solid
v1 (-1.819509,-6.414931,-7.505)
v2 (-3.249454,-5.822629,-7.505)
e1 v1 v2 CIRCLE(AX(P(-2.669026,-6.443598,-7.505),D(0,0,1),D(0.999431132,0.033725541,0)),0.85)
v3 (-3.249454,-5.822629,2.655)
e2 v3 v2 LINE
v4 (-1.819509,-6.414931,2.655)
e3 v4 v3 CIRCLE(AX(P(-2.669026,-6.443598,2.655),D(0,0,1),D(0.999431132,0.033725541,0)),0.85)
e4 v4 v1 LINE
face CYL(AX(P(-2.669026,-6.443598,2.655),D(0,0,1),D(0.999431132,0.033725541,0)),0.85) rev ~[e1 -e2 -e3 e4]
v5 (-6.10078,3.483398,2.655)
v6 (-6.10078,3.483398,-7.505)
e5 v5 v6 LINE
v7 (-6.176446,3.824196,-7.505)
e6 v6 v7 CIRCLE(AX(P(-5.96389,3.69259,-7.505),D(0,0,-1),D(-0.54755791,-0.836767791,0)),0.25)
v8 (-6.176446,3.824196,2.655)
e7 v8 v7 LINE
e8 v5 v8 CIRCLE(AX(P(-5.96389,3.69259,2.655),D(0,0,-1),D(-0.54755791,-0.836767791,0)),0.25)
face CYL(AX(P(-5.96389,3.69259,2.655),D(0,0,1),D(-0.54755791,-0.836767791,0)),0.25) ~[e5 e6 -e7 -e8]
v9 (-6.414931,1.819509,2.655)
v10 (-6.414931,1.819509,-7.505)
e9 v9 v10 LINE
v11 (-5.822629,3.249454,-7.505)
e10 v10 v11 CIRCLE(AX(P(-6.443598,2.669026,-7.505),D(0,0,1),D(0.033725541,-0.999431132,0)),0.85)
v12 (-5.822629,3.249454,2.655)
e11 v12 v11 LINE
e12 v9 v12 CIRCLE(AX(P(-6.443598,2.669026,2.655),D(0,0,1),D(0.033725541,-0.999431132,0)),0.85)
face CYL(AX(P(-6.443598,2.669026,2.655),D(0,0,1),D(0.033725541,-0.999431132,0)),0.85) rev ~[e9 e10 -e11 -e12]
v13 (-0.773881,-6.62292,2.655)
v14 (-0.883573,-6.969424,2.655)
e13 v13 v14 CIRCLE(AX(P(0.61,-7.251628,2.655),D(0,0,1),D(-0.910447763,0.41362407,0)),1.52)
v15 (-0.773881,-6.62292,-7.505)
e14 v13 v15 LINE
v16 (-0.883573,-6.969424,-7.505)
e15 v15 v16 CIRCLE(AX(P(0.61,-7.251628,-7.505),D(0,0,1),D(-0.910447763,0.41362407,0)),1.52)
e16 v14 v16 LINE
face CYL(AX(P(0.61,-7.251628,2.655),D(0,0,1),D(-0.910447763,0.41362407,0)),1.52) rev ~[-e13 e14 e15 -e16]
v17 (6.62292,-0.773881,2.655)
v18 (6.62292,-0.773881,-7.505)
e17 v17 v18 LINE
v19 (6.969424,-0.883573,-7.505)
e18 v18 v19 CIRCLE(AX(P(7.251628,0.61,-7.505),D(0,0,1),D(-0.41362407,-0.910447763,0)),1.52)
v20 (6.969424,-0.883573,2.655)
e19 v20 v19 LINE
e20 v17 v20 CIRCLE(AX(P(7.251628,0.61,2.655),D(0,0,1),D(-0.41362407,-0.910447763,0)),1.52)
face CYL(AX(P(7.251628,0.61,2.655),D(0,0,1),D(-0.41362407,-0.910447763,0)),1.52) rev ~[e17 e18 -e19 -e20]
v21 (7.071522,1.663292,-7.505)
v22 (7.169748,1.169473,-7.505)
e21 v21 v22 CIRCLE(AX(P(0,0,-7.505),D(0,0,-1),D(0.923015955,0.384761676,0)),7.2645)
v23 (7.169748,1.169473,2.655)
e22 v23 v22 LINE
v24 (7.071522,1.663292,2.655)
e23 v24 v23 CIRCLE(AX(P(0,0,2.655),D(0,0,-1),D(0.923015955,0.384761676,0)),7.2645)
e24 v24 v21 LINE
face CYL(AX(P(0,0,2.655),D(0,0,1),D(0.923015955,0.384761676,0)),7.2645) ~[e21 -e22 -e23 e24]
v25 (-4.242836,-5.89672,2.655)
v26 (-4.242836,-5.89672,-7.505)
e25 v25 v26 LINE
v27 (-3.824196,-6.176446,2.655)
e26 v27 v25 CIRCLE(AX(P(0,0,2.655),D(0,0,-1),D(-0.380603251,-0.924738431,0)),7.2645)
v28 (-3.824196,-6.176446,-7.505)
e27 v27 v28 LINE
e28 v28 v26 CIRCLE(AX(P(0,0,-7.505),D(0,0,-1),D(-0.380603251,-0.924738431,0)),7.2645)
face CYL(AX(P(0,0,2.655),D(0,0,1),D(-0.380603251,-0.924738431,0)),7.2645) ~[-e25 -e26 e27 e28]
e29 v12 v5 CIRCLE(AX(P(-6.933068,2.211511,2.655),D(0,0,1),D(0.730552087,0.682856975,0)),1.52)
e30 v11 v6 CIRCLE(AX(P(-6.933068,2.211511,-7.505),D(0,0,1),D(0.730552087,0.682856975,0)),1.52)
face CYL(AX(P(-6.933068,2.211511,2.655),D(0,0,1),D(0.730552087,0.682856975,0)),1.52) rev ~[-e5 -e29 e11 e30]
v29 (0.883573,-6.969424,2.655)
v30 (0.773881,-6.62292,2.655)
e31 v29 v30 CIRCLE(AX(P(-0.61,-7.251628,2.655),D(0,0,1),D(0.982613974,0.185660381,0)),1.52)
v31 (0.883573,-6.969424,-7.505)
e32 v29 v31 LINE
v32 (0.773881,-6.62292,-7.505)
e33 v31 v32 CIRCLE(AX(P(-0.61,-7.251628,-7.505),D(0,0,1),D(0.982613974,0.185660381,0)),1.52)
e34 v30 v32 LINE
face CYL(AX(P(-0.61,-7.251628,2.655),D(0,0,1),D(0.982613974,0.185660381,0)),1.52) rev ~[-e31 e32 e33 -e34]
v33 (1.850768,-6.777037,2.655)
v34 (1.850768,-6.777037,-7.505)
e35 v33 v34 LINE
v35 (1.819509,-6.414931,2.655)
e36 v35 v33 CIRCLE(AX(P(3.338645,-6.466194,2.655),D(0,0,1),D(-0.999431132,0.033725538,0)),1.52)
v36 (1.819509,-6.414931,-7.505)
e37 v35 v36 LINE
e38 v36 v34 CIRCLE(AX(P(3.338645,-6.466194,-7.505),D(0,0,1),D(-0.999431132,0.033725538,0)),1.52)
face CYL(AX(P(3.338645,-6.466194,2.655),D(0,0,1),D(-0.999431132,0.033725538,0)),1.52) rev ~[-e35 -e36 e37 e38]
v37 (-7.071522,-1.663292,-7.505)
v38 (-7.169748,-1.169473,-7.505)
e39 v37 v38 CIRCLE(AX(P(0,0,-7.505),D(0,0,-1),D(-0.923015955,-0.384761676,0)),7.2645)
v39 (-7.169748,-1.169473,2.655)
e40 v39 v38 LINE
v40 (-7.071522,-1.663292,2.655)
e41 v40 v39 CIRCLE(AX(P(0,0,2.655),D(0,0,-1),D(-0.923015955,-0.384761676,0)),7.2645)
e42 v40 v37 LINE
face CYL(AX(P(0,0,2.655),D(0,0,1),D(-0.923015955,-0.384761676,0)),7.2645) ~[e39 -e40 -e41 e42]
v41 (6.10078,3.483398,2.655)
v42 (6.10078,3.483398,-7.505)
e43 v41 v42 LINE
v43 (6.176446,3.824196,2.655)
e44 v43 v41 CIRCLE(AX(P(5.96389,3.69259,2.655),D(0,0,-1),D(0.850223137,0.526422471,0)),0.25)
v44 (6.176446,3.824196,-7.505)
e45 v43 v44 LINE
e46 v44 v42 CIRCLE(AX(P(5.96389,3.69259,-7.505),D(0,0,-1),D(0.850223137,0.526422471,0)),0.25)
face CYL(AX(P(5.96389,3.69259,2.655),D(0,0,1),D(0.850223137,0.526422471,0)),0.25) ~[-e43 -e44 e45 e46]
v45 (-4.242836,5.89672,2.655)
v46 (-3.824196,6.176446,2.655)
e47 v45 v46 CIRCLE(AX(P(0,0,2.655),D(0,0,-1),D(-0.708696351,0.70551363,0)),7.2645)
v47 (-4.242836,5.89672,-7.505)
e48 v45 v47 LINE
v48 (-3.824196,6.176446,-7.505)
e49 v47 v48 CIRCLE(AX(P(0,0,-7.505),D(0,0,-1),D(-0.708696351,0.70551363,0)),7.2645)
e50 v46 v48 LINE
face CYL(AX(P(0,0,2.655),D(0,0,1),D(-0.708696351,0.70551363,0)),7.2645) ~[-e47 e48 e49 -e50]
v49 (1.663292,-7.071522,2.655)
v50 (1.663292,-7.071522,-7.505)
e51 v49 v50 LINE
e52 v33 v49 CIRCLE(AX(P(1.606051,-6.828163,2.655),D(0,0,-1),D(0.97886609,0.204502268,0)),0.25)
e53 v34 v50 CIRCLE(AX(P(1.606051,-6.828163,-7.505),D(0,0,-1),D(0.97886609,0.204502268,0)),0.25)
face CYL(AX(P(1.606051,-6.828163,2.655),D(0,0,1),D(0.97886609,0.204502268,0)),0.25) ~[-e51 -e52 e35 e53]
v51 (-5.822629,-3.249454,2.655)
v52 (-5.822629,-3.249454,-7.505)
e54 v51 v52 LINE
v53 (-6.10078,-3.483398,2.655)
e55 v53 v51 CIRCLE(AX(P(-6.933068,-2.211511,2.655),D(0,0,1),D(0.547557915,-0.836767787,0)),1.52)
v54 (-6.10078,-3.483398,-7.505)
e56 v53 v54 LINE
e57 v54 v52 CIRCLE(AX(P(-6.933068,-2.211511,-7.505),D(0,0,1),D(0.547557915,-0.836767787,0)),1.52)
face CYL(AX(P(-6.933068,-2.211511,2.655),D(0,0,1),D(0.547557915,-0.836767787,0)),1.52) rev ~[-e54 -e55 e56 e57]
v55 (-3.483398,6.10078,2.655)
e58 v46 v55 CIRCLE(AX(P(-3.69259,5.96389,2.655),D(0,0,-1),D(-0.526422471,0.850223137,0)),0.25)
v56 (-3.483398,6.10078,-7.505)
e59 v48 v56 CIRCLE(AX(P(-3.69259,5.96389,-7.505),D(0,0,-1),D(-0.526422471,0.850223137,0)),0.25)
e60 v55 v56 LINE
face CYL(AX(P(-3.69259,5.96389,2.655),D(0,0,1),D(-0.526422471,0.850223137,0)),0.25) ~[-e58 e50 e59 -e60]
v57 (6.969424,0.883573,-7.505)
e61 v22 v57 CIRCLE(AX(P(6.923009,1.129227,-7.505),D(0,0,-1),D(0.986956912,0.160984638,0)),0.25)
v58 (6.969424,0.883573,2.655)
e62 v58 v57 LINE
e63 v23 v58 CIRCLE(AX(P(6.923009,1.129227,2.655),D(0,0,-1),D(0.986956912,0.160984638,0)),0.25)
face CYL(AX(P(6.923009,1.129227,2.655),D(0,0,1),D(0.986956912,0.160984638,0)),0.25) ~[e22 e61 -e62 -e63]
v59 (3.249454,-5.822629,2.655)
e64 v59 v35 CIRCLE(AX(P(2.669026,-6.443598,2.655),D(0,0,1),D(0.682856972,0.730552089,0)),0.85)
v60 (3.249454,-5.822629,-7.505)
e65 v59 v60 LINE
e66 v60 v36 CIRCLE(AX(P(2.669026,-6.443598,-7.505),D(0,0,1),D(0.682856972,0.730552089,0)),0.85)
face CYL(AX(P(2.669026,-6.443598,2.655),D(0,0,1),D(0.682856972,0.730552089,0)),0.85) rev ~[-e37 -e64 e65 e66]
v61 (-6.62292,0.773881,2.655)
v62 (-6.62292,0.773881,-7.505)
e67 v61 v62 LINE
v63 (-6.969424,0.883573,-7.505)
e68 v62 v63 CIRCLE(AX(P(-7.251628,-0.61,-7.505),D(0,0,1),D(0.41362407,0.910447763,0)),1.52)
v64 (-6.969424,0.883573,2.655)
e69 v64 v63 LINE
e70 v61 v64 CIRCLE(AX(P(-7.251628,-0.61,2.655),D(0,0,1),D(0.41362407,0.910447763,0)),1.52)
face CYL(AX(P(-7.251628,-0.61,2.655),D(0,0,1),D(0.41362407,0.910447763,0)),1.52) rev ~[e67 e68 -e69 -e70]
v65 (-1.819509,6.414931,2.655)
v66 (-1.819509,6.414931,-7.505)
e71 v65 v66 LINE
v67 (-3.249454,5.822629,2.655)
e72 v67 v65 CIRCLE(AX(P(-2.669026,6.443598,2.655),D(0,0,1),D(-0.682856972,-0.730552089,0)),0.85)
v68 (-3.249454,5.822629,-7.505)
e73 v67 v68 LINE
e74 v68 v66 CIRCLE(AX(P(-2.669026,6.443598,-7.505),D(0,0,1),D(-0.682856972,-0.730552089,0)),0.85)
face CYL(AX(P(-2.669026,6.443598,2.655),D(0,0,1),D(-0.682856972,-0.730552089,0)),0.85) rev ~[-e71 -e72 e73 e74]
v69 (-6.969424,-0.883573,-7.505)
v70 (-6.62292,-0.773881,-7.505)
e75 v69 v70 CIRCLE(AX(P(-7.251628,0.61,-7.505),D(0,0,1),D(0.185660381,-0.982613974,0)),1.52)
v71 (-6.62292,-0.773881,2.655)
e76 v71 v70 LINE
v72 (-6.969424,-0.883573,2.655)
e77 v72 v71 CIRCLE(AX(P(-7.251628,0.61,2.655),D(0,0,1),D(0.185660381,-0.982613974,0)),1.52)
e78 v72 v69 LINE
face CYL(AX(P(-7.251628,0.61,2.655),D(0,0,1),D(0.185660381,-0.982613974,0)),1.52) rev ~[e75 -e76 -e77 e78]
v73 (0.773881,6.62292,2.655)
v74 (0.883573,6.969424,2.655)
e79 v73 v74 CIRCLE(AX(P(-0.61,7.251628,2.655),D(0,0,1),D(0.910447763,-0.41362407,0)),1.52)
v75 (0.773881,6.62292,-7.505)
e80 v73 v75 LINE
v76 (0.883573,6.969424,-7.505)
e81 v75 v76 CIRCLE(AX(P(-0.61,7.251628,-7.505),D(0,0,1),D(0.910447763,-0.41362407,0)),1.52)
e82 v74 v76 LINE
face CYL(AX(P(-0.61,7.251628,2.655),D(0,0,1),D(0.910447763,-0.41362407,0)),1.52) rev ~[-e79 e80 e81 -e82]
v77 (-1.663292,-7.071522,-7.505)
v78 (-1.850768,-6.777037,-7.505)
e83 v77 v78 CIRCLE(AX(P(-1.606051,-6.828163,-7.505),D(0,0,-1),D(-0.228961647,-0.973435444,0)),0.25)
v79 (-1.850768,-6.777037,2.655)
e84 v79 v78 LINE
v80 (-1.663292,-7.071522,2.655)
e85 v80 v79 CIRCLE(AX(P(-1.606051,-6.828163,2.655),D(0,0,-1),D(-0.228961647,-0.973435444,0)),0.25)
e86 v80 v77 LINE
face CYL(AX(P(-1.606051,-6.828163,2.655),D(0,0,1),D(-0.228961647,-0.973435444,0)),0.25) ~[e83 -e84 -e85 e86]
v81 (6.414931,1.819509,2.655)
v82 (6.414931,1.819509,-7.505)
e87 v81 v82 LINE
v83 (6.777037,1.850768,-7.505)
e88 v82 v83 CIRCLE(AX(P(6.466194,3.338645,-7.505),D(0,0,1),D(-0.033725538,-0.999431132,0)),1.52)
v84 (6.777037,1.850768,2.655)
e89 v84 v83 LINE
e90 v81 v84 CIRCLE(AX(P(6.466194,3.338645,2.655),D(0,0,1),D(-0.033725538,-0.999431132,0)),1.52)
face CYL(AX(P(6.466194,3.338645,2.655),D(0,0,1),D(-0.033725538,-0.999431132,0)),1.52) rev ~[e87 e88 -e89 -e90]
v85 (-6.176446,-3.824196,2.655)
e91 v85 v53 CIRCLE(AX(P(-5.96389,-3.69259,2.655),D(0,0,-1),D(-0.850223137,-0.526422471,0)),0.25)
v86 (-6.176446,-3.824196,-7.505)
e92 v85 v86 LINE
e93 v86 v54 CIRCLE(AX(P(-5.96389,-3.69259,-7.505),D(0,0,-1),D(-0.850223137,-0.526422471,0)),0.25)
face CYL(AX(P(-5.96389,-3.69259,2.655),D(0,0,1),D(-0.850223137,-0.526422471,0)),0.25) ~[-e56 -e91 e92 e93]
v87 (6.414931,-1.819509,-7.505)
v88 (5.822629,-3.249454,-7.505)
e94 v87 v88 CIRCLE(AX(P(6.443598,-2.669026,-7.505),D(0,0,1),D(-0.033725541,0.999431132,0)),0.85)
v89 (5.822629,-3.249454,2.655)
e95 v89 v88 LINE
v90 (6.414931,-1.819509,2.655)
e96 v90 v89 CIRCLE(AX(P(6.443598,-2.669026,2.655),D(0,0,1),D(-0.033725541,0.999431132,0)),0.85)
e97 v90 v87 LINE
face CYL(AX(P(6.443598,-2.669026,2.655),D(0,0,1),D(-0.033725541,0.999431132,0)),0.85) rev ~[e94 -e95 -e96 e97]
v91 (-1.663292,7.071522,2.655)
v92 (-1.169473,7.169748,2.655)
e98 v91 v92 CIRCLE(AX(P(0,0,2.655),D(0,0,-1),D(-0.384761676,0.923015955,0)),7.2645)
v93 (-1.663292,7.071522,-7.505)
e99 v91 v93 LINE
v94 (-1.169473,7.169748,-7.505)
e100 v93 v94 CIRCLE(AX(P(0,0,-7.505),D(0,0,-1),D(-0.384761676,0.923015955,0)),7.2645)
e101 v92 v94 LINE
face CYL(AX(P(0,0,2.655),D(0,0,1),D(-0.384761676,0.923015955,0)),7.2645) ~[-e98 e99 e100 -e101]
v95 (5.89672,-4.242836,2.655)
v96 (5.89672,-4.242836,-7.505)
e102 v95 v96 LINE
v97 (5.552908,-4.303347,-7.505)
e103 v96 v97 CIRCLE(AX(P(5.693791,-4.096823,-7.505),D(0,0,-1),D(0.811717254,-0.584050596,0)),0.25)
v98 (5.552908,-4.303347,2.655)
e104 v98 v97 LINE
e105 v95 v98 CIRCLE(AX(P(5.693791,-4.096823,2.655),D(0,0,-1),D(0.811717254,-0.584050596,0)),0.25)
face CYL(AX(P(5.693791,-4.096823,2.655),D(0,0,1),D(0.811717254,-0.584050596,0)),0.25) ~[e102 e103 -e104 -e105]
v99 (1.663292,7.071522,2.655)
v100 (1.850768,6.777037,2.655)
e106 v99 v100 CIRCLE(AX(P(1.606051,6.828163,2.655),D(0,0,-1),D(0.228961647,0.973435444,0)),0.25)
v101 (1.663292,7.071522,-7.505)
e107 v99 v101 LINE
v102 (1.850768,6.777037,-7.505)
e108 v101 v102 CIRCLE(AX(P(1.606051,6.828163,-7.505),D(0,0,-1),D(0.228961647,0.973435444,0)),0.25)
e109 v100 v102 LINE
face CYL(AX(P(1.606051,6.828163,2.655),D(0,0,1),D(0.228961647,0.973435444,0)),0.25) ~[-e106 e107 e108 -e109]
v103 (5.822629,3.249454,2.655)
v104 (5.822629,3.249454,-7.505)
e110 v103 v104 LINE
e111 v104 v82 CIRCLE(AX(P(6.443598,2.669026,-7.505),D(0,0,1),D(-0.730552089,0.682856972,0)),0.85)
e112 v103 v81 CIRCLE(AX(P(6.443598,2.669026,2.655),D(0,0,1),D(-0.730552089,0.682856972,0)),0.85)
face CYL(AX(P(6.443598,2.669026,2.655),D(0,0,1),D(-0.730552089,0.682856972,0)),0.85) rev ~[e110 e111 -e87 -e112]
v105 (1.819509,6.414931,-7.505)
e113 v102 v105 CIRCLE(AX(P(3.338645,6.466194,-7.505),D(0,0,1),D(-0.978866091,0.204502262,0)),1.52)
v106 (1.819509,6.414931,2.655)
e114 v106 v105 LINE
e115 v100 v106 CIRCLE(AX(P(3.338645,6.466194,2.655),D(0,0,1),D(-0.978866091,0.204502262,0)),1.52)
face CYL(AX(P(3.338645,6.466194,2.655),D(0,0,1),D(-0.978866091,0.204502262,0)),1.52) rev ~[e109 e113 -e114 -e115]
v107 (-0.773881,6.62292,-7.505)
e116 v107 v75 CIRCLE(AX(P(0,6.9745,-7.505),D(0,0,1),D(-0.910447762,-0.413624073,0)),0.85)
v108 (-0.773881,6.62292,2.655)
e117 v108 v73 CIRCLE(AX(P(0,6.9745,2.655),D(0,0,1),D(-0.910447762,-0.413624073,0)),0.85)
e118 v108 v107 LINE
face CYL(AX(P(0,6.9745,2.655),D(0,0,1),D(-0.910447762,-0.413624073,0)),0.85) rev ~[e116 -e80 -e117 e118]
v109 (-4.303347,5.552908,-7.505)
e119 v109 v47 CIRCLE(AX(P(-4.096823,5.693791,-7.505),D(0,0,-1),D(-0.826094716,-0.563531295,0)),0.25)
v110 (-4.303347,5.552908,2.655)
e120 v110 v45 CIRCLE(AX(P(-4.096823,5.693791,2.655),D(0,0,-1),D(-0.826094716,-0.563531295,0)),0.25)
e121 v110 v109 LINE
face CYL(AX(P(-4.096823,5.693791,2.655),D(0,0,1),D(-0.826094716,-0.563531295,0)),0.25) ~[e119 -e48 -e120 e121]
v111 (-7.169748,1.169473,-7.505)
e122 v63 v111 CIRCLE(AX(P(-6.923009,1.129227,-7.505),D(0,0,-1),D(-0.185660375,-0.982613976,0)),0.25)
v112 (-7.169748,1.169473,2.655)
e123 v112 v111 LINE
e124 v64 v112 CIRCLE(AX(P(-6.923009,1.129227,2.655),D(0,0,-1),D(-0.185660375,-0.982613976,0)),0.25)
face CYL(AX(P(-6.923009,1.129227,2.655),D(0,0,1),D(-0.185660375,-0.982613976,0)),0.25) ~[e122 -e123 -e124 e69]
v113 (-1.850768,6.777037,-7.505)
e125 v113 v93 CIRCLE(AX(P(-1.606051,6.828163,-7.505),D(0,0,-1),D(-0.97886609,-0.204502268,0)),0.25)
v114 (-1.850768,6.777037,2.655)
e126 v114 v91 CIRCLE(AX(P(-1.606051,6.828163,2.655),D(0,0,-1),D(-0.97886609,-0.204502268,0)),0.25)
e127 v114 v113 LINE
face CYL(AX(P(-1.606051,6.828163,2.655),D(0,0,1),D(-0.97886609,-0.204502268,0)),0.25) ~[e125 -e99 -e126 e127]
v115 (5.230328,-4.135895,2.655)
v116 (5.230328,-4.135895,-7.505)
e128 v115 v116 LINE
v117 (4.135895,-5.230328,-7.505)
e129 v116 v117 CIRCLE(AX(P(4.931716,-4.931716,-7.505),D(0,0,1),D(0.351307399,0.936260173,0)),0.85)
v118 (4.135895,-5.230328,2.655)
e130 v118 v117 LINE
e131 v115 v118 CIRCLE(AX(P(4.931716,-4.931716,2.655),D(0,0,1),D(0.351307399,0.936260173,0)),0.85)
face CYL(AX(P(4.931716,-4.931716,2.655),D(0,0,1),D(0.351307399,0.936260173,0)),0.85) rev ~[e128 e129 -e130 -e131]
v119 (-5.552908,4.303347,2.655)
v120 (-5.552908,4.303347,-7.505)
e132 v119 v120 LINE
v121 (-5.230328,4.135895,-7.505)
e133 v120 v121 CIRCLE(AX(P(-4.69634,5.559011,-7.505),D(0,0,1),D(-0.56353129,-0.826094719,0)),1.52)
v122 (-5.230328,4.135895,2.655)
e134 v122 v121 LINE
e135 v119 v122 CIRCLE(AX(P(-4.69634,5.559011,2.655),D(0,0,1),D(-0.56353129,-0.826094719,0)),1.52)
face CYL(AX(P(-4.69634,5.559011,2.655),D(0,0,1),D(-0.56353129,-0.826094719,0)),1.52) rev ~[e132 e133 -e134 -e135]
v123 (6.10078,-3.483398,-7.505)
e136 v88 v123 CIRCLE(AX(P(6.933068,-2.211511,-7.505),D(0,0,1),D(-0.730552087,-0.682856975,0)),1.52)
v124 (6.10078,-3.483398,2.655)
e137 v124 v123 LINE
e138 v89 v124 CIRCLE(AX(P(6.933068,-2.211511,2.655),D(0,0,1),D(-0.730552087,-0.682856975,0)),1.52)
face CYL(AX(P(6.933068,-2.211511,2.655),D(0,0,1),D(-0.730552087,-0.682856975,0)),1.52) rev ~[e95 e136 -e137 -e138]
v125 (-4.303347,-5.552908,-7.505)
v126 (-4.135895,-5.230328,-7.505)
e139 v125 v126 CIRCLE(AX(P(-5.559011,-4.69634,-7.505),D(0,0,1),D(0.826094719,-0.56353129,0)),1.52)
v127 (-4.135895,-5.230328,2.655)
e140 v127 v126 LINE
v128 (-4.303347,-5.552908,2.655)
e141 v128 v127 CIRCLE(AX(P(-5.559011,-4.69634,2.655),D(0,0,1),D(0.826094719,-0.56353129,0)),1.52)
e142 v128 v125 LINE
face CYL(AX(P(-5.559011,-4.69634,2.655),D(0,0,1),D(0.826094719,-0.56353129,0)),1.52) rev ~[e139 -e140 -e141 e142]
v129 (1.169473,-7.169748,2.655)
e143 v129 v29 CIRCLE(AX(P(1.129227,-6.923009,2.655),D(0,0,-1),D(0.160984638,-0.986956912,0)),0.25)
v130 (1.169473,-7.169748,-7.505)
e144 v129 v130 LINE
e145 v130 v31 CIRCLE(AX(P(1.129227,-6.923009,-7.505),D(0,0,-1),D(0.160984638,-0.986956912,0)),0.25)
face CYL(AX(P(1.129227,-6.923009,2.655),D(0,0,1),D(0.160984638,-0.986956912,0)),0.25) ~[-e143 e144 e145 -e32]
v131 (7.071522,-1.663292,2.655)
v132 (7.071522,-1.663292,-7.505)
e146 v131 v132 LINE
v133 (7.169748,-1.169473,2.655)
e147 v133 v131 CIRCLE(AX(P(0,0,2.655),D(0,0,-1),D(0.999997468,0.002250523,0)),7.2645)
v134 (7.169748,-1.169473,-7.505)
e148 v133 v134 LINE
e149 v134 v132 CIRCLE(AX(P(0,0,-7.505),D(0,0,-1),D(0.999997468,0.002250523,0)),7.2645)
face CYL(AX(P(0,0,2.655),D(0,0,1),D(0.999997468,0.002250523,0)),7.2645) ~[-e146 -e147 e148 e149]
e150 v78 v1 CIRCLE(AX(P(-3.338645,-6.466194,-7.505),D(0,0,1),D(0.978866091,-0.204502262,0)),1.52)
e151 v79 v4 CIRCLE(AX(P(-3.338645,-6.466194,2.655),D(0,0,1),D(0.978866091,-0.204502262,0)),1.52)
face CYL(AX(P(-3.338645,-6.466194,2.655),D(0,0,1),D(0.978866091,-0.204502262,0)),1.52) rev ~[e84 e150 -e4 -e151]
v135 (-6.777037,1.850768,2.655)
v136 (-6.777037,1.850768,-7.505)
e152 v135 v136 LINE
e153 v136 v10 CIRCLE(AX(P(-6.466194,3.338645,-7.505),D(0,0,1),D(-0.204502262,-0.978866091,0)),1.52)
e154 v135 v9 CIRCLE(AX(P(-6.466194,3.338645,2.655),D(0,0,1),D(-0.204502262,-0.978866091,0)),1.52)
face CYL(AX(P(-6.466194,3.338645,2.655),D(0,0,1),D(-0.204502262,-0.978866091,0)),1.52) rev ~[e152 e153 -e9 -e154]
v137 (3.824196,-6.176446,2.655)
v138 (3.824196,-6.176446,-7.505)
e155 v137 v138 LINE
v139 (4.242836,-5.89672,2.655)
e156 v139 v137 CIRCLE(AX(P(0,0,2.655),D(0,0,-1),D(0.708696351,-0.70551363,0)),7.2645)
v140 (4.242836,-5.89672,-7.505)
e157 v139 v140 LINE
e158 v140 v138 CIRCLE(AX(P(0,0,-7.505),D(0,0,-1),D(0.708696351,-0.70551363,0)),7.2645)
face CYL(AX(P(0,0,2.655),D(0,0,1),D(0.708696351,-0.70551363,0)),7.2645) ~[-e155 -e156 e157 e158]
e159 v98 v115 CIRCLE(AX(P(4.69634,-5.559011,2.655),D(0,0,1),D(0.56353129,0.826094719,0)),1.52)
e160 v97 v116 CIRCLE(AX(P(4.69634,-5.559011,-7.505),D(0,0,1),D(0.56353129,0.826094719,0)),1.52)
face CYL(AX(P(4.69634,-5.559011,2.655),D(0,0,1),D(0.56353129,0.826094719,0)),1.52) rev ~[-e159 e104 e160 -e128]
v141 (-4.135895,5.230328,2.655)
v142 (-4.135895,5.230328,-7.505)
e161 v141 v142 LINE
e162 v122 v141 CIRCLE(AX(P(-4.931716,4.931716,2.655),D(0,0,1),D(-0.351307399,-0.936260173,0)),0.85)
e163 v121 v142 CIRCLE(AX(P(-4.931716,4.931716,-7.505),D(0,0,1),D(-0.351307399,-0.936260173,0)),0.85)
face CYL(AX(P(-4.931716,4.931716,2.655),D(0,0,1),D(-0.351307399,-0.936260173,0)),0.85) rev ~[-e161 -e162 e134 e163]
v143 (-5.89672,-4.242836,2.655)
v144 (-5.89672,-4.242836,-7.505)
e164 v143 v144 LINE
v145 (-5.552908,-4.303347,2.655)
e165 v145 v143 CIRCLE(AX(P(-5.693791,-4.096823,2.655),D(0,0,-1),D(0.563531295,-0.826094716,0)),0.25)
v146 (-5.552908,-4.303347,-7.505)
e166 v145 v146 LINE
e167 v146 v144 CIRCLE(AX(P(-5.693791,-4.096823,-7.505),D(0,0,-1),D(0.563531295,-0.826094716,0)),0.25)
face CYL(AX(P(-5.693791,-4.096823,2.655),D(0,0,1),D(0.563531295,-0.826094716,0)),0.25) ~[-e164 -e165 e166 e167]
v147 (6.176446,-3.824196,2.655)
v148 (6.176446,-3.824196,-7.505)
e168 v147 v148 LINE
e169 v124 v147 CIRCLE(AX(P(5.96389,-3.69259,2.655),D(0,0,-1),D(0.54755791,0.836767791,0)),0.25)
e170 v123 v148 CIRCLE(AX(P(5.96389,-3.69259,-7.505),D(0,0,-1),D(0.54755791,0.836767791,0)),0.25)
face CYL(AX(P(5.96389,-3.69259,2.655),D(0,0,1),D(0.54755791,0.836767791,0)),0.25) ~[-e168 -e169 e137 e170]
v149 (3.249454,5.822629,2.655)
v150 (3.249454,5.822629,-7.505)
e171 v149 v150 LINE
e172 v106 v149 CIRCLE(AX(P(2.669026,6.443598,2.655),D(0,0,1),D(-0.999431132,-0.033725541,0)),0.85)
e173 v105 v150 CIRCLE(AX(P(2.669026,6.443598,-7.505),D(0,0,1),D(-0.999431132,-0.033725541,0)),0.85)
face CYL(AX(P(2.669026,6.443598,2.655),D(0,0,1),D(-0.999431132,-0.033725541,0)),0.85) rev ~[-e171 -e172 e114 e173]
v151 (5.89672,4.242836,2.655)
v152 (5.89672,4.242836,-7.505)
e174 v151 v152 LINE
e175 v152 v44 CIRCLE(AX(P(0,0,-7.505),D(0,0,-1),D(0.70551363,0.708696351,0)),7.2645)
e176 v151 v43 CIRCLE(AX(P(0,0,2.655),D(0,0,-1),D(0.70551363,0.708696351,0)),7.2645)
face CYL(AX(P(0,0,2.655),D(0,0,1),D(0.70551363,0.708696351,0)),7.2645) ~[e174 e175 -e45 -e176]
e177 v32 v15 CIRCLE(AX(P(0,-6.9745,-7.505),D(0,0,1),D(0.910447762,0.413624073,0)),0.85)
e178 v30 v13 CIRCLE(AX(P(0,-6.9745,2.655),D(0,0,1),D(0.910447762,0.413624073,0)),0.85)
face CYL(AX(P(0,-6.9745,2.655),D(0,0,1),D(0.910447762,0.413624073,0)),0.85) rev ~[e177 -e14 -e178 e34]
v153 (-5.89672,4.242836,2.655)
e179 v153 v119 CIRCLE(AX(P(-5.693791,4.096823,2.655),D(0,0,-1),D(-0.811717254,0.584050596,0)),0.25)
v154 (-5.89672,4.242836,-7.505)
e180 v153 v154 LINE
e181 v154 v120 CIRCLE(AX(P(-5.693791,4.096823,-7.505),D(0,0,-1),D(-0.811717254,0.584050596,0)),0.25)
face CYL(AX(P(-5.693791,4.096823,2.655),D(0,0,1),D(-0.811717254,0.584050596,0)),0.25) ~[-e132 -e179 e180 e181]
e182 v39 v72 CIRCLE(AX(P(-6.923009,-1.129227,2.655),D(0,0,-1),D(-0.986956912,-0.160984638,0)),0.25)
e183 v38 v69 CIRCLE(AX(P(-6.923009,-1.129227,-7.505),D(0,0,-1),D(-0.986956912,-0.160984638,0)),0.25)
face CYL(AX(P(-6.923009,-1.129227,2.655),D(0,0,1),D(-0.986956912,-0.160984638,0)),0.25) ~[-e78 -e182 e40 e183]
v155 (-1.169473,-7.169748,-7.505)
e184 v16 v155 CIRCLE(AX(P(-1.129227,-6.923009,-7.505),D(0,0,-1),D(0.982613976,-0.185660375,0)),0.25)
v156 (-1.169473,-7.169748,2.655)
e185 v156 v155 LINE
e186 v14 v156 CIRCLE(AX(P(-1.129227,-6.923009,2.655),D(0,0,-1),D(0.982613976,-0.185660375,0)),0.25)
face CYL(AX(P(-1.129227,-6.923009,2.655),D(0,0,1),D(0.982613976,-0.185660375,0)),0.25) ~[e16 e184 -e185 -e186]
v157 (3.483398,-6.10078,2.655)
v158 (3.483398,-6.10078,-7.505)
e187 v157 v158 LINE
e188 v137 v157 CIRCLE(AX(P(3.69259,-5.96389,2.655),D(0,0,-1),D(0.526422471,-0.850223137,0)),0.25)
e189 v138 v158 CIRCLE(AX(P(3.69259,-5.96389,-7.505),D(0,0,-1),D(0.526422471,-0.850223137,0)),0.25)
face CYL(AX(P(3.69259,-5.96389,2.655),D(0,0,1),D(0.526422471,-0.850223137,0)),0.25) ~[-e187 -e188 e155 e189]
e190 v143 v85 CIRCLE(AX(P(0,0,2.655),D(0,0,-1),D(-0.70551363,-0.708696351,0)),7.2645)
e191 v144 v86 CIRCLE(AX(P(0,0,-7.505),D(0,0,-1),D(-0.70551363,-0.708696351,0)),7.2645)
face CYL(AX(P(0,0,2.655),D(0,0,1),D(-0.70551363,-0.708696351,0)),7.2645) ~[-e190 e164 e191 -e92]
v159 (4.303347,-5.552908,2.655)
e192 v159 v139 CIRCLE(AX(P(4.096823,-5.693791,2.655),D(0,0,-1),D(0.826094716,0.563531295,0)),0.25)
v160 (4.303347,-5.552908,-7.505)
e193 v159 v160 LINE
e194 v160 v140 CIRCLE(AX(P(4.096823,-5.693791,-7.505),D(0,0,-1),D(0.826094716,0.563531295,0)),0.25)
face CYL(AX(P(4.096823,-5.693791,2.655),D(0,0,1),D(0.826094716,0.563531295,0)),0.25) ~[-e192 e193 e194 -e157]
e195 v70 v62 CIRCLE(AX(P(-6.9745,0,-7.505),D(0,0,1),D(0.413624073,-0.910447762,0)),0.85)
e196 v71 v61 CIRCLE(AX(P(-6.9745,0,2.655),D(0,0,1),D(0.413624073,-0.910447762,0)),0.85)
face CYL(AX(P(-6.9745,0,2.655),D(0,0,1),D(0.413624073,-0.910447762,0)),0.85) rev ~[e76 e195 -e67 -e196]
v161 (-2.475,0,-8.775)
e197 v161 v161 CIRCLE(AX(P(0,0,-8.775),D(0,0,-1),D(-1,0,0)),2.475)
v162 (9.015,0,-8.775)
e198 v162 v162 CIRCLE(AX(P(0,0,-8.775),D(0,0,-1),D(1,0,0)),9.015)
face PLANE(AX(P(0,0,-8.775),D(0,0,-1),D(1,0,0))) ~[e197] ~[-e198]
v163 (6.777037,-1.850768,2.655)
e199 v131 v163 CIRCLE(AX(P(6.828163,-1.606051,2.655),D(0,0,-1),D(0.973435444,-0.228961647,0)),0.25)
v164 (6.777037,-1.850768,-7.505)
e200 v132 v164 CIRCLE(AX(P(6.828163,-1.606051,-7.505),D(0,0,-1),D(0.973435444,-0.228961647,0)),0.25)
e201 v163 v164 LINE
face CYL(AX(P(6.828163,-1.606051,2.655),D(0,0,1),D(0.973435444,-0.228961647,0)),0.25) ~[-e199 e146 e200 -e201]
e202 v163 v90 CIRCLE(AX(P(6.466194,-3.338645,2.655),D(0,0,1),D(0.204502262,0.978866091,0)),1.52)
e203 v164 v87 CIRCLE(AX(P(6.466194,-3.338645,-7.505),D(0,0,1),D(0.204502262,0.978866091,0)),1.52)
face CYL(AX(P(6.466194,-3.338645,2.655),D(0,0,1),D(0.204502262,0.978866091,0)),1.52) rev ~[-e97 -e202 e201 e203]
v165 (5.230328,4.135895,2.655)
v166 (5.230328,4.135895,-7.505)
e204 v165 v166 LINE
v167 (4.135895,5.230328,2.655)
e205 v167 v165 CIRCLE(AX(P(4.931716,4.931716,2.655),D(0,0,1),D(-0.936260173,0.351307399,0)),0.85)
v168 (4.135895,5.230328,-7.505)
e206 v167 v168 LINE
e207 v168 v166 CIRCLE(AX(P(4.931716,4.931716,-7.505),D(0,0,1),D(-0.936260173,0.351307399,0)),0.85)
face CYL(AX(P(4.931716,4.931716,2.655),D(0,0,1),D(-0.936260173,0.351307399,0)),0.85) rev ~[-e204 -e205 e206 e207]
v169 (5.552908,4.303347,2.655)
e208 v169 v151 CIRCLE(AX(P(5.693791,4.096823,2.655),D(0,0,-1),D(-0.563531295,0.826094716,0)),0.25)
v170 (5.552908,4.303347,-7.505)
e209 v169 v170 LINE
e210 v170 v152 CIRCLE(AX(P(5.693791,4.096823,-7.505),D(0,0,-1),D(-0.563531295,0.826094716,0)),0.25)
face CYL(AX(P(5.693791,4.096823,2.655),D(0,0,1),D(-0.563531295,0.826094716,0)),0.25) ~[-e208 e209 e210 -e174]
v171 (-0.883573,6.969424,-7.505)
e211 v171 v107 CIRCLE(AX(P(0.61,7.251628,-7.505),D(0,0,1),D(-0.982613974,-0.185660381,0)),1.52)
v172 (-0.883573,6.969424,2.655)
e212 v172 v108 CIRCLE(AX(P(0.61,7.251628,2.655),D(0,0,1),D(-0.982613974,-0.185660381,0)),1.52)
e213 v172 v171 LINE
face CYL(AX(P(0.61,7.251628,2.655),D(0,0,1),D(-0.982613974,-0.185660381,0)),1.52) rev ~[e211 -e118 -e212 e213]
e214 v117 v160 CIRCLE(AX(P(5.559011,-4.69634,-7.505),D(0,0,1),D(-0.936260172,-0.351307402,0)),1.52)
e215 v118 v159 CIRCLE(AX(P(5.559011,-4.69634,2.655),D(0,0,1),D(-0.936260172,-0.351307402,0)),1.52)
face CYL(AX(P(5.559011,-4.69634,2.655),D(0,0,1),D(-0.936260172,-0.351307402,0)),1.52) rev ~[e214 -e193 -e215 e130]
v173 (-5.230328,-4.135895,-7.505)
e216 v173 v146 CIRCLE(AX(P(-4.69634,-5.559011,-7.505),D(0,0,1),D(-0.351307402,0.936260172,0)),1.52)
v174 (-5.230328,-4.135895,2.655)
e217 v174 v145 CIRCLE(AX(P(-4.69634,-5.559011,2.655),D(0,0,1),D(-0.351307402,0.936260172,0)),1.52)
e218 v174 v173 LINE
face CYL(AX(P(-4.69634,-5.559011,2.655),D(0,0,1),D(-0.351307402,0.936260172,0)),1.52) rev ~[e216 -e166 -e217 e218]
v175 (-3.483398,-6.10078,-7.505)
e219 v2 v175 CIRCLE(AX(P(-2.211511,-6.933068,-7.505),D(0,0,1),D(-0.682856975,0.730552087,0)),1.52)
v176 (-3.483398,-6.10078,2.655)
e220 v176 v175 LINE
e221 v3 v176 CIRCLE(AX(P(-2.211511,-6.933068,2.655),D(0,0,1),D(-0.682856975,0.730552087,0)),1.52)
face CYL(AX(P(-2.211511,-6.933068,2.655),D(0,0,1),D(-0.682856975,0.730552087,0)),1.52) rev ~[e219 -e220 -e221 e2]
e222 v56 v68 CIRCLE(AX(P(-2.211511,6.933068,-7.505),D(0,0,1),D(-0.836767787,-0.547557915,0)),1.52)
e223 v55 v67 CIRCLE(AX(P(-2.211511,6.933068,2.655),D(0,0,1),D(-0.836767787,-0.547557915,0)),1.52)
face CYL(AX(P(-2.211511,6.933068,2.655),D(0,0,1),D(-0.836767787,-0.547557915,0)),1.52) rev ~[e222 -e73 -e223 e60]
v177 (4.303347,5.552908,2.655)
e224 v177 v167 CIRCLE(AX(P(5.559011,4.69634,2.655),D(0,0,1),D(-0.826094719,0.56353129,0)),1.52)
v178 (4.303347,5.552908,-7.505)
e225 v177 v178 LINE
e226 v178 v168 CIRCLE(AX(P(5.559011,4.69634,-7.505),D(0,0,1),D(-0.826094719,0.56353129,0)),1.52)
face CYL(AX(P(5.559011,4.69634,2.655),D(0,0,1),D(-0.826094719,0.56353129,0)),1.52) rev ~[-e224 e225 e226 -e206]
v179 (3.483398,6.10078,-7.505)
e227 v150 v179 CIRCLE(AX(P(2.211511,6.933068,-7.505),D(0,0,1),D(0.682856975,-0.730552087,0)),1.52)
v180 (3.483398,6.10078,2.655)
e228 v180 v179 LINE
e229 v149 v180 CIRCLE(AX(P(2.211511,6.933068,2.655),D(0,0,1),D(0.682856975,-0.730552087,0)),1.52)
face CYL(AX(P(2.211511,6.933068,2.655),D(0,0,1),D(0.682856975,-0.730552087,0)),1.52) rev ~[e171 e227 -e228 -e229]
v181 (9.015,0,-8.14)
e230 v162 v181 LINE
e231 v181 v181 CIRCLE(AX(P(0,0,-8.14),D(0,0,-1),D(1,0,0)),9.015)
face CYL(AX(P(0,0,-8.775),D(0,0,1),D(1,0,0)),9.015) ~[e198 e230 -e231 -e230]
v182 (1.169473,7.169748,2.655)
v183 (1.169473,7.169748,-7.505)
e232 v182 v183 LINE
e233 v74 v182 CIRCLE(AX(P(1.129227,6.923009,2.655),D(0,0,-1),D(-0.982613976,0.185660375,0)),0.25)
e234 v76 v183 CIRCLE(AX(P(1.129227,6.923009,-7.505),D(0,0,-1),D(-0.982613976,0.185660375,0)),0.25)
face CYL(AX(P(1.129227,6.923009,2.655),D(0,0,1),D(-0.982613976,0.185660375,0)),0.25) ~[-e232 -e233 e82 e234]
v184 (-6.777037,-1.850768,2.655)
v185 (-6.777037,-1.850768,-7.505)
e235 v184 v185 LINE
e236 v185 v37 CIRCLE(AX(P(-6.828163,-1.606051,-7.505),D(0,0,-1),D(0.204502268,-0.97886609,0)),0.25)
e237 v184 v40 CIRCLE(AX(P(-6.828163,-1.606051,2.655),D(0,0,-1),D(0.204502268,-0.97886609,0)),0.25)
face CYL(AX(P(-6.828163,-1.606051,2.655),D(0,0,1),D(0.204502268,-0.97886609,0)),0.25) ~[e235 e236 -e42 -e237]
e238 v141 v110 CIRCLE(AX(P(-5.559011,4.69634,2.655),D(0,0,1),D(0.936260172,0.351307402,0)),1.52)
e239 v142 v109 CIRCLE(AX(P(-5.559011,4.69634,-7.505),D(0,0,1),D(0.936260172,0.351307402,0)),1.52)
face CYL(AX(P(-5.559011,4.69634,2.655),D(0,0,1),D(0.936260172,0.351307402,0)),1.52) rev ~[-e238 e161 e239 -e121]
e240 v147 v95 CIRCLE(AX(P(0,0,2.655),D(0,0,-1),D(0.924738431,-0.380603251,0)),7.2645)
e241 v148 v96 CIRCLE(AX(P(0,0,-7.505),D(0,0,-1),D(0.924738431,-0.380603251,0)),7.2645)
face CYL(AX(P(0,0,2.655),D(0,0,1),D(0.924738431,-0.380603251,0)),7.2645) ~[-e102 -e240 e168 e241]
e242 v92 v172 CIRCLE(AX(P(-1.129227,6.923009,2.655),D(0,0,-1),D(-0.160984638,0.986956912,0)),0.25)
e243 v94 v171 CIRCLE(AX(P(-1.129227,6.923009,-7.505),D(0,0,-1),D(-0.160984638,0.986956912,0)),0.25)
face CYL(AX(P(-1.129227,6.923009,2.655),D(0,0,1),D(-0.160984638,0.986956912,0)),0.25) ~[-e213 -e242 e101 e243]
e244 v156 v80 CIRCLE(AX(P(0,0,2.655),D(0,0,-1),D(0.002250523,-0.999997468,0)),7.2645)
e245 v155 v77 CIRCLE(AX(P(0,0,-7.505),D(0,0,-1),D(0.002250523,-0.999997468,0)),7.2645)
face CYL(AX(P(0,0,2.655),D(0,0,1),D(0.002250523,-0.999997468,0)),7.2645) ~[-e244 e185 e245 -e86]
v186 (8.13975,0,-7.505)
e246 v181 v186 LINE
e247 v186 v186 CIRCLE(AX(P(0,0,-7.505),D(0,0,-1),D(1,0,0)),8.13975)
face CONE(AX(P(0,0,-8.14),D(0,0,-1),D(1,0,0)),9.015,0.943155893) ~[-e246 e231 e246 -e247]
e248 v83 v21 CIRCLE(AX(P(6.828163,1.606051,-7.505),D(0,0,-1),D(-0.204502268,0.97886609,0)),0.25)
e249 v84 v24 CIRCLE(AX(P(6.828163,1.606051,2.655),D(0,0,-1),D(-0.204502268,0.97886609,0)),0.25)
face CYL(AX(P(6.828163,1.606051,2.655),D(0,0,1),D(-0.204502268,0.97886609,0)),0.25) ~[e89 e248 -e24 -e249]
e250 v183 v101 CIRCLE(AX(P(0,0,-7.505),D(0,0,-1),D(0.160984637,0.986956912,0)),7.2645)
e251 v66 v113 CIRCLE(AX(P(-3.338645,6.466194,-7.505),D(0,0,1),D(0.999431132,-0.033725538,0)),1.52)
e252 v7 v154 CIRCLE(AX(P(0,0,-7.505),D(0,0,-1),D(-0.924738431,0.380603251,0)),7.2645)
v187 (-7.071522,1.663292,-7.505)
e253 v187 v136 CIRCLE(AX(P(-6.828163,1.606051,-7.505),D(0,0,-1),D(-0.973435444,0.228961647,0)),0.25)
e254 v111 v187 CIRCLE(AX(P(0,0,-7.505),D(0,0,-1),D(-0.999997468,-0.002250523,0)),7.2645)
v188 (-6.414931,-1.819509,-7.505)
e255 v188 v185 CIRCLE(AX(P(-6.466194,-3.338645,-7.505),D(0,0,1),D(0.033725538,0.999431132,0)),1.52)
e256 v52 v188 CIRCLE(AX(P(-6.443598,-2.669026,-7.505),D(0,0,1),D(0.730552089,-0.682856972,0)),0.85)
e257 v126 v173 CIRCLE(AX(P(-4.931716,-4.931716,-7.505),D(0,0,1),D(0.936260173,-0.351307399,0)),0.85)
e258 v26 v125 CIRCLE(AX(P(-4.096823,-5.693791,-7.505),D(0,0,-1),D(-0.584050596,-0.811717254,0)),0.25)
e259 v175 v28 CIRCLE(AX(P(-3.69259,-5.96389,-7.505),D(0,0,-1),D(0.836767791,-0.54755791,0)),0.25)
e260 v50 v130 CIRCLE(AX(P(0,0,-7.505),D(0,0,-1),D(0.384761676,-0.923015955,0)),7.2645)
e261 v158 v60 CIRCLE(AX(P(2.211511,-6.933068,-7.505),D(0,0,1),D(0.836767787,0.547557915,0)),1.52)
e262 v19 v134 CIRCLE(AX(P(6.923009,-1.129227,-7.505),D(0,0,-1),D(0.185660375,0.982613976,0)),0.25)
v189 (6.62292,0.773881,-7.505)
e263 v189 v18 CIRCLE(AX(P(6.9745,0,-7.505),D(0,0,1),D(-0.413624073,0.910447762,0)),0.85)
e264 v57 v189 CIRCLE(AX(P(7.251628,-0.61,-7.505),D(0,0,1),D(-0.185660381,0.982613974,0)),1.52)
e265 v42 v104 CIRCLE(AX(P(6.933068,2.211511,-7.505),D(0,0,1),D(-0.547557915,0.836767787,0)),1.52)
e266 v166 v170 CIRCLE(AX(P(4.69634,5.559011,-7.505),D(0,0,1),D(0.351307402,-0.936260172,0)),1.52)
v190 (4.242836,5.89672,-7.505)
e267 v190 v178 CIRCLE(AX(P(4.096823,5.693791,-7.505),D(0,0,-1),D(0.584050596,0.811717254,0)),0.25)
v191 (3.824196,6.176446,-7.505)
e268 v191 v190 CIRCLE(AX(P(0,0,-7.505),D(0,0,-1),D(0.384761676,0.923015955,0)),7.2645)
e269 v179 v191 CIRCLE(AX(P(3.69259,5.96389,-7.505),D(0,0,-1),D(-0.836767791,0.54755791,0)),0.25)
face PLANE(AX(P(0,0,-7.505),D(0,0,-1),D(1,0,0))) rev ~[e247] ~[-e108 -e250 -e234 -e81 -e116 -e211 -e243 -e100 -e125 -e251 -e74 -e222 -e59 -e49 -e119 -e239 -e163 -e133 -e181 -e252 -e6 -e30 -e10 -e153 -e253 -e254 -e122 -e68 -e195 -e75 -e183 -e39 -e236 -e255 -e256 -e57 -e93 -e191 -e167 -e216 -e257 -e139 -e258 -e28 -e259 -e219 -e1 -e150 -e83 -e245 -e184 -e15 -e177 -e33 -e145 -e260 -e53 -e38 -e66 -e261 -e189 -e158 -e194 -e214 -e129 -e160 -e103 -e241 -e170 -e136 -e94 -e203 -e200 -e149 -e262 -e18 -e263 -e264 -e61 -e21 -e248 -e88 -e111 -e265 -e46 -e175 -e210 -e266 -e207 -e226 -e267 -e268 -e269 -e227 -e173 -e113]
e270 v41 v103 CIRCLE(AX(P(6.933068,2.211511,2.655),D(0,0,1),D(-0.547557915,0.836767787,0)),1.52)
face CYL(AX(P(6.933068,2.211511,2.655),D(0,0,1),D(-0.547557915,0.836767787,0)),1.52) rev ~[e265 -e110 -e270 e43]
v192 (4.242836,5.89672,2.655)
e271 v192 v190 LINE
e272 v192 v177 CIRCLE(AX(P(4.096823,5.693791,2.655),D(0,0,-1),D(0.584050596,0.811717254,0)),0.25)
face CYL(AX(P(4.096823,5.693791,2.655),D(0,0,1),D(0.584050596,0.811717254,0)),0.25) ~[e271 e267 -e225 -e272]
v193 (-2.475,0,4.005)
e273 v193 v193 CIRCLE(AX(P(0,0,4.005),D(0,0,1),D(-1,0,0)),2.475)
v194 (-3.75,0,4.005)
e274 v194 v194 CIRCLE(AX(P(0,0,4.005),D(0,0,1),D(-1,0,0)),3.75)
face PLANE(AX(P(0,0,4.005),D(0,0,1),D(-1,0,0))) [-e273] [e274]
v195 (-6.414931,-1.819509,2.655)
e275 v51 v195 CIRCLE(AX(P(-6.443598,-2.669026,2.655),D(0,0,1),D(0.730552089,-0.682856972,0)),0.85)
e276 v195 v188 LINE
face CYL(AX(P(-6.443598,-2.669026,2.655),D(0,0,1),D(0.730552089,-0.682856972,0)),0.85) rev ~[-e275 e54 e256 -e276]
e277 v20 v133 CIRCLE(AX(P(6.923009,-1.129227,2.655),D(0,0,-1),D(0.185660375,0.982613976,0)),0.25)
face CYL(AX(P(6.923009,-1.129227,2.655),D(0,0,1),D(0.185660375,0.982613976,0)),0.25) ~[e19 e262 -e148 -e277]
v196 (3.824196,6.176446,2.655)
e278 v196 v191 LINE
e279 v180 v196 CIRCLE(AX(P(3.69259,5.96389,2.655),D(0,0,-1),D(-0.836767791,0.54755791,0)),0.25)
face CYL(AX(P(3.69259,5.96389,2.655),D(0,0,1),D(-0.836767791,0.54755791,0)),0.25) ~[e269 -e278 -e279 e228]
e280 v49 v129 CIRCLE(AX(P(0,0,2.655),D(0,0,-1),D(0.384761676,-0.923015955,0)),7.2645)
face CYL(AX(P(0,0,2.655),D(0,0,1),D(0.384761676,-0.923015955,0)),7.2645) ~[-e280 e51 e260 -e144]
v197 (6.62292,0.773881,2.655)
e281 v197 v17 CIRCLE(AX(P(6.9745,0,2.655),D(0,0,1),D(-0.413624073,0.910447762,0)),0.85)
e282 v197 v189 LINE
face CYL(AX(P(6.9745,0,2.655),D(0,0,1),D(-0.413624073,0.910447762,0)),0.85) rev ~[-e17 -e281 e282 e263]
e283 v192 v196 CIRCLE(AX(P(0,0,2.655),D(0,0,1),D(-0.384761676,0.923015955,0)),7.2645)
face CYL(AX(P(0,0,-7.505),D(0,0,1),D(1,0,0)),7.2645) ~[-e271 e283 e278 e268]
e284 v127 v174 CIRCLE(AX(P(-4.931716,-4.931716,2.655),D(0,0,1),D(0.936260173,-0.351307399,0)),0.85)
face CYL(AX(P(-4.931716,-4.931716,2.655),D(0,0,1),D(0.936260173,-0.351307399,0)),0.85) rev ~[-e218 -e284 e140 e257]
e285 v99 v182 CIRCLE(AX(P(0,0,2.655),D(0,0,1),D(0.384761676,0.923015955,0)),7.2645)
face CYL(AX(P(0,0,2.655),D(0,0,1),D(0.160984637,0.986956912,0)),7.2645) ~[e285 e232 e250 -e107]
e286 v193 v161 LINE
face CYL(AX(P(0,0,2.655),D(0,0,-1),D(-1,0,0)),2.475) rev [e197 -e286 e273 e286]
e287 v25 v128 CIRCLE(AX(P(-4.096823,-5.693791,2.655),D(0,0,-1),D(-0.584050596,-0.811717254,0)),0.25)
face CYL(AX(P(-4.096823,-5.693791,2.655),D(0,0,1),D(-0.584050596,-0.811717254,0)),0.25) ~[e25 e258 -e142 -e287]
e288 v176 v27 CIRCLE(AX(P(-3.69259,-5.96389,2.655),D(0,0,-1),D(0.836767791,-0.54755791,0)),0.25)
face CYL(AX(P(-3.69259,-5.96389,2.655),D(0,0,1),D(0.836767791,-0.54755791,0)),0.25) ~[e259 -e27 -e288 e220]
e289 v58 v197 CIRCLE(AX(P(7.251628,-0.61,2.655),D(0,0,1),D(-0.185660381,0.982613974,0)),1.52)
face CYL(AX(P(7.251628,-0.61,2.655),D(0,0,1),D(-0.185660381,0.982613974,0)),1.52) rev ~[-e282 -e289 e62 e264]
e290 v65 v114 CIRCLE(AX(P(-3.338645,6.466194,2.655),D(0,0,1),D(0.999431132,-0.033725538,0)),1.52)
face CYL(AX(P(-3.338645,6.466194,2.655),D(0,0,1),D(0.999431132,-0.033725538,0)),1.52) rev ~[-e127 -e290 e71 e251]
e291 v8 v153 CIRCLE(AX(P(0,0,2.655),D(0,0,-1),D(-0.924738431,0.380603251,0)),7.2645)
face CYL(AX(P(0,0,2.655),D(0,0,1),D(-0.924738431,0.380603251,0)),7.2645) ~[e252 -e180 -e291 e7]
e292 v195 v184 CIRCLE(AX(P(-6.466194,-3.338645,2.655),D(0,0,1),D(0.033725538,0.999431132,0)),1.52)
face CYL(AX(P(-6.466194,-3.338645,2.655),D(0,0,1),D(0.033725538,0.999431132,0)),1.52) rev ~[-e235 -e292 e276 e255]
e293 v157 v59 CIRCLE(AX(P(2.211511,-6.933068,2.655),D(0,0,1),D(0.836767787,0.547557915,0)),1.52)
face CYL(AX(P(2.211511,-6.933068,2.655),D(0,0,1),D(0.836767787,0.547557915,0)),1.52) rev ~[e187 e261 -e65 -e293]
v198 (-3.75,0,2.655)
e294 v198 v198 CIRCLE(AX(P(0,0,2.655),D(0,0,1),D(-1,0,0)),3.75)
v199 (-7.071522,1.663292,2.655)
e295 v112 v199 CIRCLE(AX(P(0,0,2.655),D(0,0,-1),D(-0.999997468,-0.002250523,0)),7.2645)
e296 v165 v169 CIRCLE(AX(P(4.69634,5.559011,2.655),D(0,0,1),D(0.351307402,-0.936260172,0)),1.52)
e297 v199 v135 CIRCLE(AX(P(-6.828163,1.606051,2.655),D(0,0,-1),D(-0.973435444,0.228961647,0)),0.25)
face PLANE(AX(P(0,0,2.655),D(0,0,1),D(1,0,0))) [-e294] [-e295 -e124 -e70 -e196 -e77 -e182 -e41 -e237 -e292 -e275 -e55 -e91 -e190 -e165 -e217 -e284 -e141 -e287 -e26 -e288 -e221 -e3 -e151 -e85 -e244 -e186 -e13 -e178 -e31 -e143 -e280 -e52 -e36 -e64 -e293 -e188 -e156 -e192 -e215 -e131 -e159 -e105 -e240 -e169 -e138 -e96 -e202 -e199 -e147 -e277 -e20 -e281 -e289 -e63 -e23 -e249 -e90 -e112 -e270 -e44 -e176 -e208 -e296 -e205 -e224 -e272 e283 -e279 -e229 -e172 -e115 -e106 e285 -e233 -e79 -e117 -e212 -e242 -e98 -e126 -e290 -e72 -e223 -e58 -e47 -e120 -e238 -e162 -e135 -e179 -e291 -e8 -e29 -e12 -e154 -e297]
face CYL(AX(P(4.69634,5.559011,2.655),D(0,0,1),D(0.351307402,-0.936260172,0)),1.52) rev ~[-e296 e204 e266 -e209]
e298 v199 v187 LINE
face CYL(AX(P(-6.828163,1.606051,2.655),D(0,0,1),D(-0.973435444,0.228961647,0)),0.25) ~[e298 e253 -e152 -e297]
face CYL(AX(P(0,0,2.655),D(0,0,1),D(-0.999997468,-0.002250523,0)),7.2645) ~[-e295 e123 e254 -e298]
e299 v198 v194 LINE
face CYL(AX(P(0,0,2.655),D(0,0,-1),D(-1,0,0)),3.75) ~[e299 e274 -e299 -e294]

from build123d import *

# Parameters (mm, degrees)
CUT_EXTRUDE1_START  = 2.655
CUT_EXTRUDE1_DEPTH  = 10.16
CIRPATTERN1_COUNT   = 16
SKETCH4_R           = 1.7526
CUT_EXTRUDE2_DEPTH  = 16.477114557
CUT_EXTRUDE3_DEPTH  = 1.31445
CIRPATTERN3_COUNT   = 2
CIRPATTERN3_ANGLE   = 90
CHAMFER1_SIZE       = 0.28075
CUT_EXTRUDE4_START  = -6.12
SKETCH7_R           = 9.015
CUT_EXTRUDE4_DEPTH  = 6.12
SKETCH8_R           = 2.475
CUT_EXTRUDE5_DEPTH  = 18.122656044
SKETCH9_R           = 3.75
SKETCH9_R_2         = 2.475
BOSS_EXTRUDE1_DEPTH = 1.35


with BuildPart() as part:
    # Sketch2 → Revolve1 (revolve)
    with BuildSketch(Plane(origin=(0, 0, 0), x_dir=(0, 0, -1), z_dir=(1, 0, 0)), mode=Mode.PRIVATE) as revolve1_sk:
        Polygon((-8.775, 2.38125), (8.775, 2.38125), (8.775, 9.015), (8.14, 9.015), (7.505, 8.13975), (7.505, 7.2645), (-2.655, 7.2645), (-2.655, 8.13975), (-3.29, 9.015), (-8.775, 9.015), align=None)
    revolve(revolve1_sk.sketch.rotate(Axis((0, 0, 8.775), (0, 0, -1)), 90), axis=Axis((0, 0, 8.775), (0, 0, -1)))

    # Sketch3 → Cut-Extrude1 (cut)
    with BuildSketch(Plane.XY.offset(CUT_EXTRUDE1_START)):
        with BuildLine():
            Line((3.757926927, 9.015), (-3.757926927, 9.015))
            Line((-3.757926927, 9.015), (-2.795101196, 6.705249403))
            ThreePointArc((-2.795101196, 6.705249403), (-1.995846132, 6.984952288), (-1.169472895, 7.169748489))
            ThreePointArc((-1.169472895, 7.169748489), (-0.985767742, 7.127751824), (-0.883573242, 6.969424355))
            ThreePointArc((-0.883573242, 6.969424355), (-0.839120956, 6.792881518), (-0.773880597, 6.622919538))
            ThreePointArc((-0.773880597, 6.622919538), (0, 6.1245), (0.773880597, 6.622919538))
            ThreePointArc((0.773880597, 6.622919538), (0.839120956, 6.792881518), (0.883573242, 6.969424355))
            ThreePointArc((0.883573242, 6.969424355), (0.985767742, 7.127751824), (1.169472895, 7.169748489))
            ThreePointArc((1.169472895, 7.169748489), (1.995846132, 6.984952288), (2.795101196, 6.705249403))
            Line((2.795101196, 6.705249403), (3.757926927, 9.015))
        make_face()
    cut_extrude1 = extrude(amount=-CUT_EXTRUDE1_DEPTH, mode=Mode.SUBTRACT)

    # CirPattern1: Cut-Extrude1 ×16 about axis
    cirpattern1_axis = Axis((0, 0, 0), (0, 0, 1))
    for i in range(1, CIRPATTERN1_COUNT):
        add(cut_extrude1.rotate(cirpattern1_axis, i * 360 / CIRPATTERN1_COUNT), mode=Mode.SUBTRACT)

    # Sketch4 → Cut-Extrude2 (cut, through all)
    with BuildSketch(Plane(origin=(0, 0, 0), x_dir=(0, -1, 0), z_dir=(1, 0, 0))):
        with Locations(Location((0, -5.715, 0), (0, 0, 270))):
            Circle(SKETCH4_R)
    cut_extrude2 = extrude(amount=CUT_EXTRUDE2_DEPTH, mode=Mode.SUBTRACT)

    # Sketch5 → Revolve2 (revolve)
    with BuildSketch(Plane.XY.offset(5.715), mode=Mode.PRIVATE) as revolve2_sk:
        Polygon((2.38125, -1.3716), (2.38125, 0), (8.842998261, 0), (8.842998261, -1.3716), (8.461998261, -1.7526), (2.76225, -1.7526), align=None)
    revolve2 = revolve(revolve2_sk.sketch.rotate(Axis((2.38125, 0, 5.715), (1, 0, 0)), 270), axis=Axis((2.38125, 0, 5.715), (1, 0, 0)))

    # Sketch6 → Cut-Extrude3 (cut)
    with BuildSketch(Plane(origin=(8.842998261, 5.384140679, 0), x_dir=(0, -1, 0), z_dir=(-1, 0, 0))):
        Polygon((5.384140679, 6.726864082), (4.507840679, 6.220932041), (4.507840679, 5.209067959), (5.384140679, 4.703135918), (6.260440679, 5.209067959), (6.260440679, 6.220932041), align=None)
    cut_extrude3 = extrude(amount=CUT_EXTRUDE3_DEPTH, mode=Mode.SUBTRACT)

    # CirPattern3: Cut-Extrude2, Revolve2, Cut-Extrude3 ×2 about axis
    cirpattern3_axis = Axis((0, 0, 0), (0, 0, 1))
    add([cut_extrude2.rotate(cirpattern3_axis, i * CIRPATTERN3_ANGLE / (CIRPATTERN3_COUNT - 1)) for i in range(1, CIRPATTERN3_COUNT)], mode=Mode.SUBTRACT)
    add([revolve2.rotate(cirpattern3_axis, i * CIRPATTERN3_ANGLE / (CIRPATTERN3_COUNT - 1)) for i in range(1, CIRPATTERN3_COUNT)])
    add([cut_extrude3.rotate(cirpattern3_axis, i * CIRPATTERN3_ANGLE / (CIRPATTERN3_COUNT - 1)) for i in range(1, CIRPATTERN3_COUNT)], mode=Mode.SUBTRACT)

    # Chamfer1
    chamfer1_edges = [part.edges().sort_by_distance(p)[0] for p in [
        (-2.38125, 0, 8.775),
        (-9.015, 0, 8.775),
    ]]
    chamfer(chamfer1_edges, length=CHAMFER1_SIZE)

    # Sketch7 → Cut-Extrude4 (cut)
    with BuildSketch(Plane.XY.offset(8.775).offset(CUT_EXTRUDE4_START)):
        Circle(SKETCH7_R)
    extrude(amount=CUT_EXTRUDE4_DEPTH, mode=Mode.SUBTRACT)

    # Sketch8 → Cut-Extrude5 (cut, through all)
    with BuildSketch(Plane(origin=(0, 0, -8.775), x_dir=(-1, 0, 0), z_dir=(0, 0, -1))):
        Circle(SKETCH8_R)
    extrude(amount=-CUT_EXTRUDE5_DEPTH, mode=Mode.SUBTRACT)

    # Sketch9 → Boss-Extrude1 (add)
    with BuildSketch(Plane.XY.offset(2.655)):
        with Locations(Location((0, 0, 0), (0, 0, 180))):
            Circle(SKETCH9_R)
        with Locations(Location((0, 0, 0), (0, 0, 180))):
            Circle(SKETCH9_R_2, mode=Mode.SUBTRACT)
    extrude(amount=BOSS_EXTRUDE1_DEPTH)


solid = part.part
